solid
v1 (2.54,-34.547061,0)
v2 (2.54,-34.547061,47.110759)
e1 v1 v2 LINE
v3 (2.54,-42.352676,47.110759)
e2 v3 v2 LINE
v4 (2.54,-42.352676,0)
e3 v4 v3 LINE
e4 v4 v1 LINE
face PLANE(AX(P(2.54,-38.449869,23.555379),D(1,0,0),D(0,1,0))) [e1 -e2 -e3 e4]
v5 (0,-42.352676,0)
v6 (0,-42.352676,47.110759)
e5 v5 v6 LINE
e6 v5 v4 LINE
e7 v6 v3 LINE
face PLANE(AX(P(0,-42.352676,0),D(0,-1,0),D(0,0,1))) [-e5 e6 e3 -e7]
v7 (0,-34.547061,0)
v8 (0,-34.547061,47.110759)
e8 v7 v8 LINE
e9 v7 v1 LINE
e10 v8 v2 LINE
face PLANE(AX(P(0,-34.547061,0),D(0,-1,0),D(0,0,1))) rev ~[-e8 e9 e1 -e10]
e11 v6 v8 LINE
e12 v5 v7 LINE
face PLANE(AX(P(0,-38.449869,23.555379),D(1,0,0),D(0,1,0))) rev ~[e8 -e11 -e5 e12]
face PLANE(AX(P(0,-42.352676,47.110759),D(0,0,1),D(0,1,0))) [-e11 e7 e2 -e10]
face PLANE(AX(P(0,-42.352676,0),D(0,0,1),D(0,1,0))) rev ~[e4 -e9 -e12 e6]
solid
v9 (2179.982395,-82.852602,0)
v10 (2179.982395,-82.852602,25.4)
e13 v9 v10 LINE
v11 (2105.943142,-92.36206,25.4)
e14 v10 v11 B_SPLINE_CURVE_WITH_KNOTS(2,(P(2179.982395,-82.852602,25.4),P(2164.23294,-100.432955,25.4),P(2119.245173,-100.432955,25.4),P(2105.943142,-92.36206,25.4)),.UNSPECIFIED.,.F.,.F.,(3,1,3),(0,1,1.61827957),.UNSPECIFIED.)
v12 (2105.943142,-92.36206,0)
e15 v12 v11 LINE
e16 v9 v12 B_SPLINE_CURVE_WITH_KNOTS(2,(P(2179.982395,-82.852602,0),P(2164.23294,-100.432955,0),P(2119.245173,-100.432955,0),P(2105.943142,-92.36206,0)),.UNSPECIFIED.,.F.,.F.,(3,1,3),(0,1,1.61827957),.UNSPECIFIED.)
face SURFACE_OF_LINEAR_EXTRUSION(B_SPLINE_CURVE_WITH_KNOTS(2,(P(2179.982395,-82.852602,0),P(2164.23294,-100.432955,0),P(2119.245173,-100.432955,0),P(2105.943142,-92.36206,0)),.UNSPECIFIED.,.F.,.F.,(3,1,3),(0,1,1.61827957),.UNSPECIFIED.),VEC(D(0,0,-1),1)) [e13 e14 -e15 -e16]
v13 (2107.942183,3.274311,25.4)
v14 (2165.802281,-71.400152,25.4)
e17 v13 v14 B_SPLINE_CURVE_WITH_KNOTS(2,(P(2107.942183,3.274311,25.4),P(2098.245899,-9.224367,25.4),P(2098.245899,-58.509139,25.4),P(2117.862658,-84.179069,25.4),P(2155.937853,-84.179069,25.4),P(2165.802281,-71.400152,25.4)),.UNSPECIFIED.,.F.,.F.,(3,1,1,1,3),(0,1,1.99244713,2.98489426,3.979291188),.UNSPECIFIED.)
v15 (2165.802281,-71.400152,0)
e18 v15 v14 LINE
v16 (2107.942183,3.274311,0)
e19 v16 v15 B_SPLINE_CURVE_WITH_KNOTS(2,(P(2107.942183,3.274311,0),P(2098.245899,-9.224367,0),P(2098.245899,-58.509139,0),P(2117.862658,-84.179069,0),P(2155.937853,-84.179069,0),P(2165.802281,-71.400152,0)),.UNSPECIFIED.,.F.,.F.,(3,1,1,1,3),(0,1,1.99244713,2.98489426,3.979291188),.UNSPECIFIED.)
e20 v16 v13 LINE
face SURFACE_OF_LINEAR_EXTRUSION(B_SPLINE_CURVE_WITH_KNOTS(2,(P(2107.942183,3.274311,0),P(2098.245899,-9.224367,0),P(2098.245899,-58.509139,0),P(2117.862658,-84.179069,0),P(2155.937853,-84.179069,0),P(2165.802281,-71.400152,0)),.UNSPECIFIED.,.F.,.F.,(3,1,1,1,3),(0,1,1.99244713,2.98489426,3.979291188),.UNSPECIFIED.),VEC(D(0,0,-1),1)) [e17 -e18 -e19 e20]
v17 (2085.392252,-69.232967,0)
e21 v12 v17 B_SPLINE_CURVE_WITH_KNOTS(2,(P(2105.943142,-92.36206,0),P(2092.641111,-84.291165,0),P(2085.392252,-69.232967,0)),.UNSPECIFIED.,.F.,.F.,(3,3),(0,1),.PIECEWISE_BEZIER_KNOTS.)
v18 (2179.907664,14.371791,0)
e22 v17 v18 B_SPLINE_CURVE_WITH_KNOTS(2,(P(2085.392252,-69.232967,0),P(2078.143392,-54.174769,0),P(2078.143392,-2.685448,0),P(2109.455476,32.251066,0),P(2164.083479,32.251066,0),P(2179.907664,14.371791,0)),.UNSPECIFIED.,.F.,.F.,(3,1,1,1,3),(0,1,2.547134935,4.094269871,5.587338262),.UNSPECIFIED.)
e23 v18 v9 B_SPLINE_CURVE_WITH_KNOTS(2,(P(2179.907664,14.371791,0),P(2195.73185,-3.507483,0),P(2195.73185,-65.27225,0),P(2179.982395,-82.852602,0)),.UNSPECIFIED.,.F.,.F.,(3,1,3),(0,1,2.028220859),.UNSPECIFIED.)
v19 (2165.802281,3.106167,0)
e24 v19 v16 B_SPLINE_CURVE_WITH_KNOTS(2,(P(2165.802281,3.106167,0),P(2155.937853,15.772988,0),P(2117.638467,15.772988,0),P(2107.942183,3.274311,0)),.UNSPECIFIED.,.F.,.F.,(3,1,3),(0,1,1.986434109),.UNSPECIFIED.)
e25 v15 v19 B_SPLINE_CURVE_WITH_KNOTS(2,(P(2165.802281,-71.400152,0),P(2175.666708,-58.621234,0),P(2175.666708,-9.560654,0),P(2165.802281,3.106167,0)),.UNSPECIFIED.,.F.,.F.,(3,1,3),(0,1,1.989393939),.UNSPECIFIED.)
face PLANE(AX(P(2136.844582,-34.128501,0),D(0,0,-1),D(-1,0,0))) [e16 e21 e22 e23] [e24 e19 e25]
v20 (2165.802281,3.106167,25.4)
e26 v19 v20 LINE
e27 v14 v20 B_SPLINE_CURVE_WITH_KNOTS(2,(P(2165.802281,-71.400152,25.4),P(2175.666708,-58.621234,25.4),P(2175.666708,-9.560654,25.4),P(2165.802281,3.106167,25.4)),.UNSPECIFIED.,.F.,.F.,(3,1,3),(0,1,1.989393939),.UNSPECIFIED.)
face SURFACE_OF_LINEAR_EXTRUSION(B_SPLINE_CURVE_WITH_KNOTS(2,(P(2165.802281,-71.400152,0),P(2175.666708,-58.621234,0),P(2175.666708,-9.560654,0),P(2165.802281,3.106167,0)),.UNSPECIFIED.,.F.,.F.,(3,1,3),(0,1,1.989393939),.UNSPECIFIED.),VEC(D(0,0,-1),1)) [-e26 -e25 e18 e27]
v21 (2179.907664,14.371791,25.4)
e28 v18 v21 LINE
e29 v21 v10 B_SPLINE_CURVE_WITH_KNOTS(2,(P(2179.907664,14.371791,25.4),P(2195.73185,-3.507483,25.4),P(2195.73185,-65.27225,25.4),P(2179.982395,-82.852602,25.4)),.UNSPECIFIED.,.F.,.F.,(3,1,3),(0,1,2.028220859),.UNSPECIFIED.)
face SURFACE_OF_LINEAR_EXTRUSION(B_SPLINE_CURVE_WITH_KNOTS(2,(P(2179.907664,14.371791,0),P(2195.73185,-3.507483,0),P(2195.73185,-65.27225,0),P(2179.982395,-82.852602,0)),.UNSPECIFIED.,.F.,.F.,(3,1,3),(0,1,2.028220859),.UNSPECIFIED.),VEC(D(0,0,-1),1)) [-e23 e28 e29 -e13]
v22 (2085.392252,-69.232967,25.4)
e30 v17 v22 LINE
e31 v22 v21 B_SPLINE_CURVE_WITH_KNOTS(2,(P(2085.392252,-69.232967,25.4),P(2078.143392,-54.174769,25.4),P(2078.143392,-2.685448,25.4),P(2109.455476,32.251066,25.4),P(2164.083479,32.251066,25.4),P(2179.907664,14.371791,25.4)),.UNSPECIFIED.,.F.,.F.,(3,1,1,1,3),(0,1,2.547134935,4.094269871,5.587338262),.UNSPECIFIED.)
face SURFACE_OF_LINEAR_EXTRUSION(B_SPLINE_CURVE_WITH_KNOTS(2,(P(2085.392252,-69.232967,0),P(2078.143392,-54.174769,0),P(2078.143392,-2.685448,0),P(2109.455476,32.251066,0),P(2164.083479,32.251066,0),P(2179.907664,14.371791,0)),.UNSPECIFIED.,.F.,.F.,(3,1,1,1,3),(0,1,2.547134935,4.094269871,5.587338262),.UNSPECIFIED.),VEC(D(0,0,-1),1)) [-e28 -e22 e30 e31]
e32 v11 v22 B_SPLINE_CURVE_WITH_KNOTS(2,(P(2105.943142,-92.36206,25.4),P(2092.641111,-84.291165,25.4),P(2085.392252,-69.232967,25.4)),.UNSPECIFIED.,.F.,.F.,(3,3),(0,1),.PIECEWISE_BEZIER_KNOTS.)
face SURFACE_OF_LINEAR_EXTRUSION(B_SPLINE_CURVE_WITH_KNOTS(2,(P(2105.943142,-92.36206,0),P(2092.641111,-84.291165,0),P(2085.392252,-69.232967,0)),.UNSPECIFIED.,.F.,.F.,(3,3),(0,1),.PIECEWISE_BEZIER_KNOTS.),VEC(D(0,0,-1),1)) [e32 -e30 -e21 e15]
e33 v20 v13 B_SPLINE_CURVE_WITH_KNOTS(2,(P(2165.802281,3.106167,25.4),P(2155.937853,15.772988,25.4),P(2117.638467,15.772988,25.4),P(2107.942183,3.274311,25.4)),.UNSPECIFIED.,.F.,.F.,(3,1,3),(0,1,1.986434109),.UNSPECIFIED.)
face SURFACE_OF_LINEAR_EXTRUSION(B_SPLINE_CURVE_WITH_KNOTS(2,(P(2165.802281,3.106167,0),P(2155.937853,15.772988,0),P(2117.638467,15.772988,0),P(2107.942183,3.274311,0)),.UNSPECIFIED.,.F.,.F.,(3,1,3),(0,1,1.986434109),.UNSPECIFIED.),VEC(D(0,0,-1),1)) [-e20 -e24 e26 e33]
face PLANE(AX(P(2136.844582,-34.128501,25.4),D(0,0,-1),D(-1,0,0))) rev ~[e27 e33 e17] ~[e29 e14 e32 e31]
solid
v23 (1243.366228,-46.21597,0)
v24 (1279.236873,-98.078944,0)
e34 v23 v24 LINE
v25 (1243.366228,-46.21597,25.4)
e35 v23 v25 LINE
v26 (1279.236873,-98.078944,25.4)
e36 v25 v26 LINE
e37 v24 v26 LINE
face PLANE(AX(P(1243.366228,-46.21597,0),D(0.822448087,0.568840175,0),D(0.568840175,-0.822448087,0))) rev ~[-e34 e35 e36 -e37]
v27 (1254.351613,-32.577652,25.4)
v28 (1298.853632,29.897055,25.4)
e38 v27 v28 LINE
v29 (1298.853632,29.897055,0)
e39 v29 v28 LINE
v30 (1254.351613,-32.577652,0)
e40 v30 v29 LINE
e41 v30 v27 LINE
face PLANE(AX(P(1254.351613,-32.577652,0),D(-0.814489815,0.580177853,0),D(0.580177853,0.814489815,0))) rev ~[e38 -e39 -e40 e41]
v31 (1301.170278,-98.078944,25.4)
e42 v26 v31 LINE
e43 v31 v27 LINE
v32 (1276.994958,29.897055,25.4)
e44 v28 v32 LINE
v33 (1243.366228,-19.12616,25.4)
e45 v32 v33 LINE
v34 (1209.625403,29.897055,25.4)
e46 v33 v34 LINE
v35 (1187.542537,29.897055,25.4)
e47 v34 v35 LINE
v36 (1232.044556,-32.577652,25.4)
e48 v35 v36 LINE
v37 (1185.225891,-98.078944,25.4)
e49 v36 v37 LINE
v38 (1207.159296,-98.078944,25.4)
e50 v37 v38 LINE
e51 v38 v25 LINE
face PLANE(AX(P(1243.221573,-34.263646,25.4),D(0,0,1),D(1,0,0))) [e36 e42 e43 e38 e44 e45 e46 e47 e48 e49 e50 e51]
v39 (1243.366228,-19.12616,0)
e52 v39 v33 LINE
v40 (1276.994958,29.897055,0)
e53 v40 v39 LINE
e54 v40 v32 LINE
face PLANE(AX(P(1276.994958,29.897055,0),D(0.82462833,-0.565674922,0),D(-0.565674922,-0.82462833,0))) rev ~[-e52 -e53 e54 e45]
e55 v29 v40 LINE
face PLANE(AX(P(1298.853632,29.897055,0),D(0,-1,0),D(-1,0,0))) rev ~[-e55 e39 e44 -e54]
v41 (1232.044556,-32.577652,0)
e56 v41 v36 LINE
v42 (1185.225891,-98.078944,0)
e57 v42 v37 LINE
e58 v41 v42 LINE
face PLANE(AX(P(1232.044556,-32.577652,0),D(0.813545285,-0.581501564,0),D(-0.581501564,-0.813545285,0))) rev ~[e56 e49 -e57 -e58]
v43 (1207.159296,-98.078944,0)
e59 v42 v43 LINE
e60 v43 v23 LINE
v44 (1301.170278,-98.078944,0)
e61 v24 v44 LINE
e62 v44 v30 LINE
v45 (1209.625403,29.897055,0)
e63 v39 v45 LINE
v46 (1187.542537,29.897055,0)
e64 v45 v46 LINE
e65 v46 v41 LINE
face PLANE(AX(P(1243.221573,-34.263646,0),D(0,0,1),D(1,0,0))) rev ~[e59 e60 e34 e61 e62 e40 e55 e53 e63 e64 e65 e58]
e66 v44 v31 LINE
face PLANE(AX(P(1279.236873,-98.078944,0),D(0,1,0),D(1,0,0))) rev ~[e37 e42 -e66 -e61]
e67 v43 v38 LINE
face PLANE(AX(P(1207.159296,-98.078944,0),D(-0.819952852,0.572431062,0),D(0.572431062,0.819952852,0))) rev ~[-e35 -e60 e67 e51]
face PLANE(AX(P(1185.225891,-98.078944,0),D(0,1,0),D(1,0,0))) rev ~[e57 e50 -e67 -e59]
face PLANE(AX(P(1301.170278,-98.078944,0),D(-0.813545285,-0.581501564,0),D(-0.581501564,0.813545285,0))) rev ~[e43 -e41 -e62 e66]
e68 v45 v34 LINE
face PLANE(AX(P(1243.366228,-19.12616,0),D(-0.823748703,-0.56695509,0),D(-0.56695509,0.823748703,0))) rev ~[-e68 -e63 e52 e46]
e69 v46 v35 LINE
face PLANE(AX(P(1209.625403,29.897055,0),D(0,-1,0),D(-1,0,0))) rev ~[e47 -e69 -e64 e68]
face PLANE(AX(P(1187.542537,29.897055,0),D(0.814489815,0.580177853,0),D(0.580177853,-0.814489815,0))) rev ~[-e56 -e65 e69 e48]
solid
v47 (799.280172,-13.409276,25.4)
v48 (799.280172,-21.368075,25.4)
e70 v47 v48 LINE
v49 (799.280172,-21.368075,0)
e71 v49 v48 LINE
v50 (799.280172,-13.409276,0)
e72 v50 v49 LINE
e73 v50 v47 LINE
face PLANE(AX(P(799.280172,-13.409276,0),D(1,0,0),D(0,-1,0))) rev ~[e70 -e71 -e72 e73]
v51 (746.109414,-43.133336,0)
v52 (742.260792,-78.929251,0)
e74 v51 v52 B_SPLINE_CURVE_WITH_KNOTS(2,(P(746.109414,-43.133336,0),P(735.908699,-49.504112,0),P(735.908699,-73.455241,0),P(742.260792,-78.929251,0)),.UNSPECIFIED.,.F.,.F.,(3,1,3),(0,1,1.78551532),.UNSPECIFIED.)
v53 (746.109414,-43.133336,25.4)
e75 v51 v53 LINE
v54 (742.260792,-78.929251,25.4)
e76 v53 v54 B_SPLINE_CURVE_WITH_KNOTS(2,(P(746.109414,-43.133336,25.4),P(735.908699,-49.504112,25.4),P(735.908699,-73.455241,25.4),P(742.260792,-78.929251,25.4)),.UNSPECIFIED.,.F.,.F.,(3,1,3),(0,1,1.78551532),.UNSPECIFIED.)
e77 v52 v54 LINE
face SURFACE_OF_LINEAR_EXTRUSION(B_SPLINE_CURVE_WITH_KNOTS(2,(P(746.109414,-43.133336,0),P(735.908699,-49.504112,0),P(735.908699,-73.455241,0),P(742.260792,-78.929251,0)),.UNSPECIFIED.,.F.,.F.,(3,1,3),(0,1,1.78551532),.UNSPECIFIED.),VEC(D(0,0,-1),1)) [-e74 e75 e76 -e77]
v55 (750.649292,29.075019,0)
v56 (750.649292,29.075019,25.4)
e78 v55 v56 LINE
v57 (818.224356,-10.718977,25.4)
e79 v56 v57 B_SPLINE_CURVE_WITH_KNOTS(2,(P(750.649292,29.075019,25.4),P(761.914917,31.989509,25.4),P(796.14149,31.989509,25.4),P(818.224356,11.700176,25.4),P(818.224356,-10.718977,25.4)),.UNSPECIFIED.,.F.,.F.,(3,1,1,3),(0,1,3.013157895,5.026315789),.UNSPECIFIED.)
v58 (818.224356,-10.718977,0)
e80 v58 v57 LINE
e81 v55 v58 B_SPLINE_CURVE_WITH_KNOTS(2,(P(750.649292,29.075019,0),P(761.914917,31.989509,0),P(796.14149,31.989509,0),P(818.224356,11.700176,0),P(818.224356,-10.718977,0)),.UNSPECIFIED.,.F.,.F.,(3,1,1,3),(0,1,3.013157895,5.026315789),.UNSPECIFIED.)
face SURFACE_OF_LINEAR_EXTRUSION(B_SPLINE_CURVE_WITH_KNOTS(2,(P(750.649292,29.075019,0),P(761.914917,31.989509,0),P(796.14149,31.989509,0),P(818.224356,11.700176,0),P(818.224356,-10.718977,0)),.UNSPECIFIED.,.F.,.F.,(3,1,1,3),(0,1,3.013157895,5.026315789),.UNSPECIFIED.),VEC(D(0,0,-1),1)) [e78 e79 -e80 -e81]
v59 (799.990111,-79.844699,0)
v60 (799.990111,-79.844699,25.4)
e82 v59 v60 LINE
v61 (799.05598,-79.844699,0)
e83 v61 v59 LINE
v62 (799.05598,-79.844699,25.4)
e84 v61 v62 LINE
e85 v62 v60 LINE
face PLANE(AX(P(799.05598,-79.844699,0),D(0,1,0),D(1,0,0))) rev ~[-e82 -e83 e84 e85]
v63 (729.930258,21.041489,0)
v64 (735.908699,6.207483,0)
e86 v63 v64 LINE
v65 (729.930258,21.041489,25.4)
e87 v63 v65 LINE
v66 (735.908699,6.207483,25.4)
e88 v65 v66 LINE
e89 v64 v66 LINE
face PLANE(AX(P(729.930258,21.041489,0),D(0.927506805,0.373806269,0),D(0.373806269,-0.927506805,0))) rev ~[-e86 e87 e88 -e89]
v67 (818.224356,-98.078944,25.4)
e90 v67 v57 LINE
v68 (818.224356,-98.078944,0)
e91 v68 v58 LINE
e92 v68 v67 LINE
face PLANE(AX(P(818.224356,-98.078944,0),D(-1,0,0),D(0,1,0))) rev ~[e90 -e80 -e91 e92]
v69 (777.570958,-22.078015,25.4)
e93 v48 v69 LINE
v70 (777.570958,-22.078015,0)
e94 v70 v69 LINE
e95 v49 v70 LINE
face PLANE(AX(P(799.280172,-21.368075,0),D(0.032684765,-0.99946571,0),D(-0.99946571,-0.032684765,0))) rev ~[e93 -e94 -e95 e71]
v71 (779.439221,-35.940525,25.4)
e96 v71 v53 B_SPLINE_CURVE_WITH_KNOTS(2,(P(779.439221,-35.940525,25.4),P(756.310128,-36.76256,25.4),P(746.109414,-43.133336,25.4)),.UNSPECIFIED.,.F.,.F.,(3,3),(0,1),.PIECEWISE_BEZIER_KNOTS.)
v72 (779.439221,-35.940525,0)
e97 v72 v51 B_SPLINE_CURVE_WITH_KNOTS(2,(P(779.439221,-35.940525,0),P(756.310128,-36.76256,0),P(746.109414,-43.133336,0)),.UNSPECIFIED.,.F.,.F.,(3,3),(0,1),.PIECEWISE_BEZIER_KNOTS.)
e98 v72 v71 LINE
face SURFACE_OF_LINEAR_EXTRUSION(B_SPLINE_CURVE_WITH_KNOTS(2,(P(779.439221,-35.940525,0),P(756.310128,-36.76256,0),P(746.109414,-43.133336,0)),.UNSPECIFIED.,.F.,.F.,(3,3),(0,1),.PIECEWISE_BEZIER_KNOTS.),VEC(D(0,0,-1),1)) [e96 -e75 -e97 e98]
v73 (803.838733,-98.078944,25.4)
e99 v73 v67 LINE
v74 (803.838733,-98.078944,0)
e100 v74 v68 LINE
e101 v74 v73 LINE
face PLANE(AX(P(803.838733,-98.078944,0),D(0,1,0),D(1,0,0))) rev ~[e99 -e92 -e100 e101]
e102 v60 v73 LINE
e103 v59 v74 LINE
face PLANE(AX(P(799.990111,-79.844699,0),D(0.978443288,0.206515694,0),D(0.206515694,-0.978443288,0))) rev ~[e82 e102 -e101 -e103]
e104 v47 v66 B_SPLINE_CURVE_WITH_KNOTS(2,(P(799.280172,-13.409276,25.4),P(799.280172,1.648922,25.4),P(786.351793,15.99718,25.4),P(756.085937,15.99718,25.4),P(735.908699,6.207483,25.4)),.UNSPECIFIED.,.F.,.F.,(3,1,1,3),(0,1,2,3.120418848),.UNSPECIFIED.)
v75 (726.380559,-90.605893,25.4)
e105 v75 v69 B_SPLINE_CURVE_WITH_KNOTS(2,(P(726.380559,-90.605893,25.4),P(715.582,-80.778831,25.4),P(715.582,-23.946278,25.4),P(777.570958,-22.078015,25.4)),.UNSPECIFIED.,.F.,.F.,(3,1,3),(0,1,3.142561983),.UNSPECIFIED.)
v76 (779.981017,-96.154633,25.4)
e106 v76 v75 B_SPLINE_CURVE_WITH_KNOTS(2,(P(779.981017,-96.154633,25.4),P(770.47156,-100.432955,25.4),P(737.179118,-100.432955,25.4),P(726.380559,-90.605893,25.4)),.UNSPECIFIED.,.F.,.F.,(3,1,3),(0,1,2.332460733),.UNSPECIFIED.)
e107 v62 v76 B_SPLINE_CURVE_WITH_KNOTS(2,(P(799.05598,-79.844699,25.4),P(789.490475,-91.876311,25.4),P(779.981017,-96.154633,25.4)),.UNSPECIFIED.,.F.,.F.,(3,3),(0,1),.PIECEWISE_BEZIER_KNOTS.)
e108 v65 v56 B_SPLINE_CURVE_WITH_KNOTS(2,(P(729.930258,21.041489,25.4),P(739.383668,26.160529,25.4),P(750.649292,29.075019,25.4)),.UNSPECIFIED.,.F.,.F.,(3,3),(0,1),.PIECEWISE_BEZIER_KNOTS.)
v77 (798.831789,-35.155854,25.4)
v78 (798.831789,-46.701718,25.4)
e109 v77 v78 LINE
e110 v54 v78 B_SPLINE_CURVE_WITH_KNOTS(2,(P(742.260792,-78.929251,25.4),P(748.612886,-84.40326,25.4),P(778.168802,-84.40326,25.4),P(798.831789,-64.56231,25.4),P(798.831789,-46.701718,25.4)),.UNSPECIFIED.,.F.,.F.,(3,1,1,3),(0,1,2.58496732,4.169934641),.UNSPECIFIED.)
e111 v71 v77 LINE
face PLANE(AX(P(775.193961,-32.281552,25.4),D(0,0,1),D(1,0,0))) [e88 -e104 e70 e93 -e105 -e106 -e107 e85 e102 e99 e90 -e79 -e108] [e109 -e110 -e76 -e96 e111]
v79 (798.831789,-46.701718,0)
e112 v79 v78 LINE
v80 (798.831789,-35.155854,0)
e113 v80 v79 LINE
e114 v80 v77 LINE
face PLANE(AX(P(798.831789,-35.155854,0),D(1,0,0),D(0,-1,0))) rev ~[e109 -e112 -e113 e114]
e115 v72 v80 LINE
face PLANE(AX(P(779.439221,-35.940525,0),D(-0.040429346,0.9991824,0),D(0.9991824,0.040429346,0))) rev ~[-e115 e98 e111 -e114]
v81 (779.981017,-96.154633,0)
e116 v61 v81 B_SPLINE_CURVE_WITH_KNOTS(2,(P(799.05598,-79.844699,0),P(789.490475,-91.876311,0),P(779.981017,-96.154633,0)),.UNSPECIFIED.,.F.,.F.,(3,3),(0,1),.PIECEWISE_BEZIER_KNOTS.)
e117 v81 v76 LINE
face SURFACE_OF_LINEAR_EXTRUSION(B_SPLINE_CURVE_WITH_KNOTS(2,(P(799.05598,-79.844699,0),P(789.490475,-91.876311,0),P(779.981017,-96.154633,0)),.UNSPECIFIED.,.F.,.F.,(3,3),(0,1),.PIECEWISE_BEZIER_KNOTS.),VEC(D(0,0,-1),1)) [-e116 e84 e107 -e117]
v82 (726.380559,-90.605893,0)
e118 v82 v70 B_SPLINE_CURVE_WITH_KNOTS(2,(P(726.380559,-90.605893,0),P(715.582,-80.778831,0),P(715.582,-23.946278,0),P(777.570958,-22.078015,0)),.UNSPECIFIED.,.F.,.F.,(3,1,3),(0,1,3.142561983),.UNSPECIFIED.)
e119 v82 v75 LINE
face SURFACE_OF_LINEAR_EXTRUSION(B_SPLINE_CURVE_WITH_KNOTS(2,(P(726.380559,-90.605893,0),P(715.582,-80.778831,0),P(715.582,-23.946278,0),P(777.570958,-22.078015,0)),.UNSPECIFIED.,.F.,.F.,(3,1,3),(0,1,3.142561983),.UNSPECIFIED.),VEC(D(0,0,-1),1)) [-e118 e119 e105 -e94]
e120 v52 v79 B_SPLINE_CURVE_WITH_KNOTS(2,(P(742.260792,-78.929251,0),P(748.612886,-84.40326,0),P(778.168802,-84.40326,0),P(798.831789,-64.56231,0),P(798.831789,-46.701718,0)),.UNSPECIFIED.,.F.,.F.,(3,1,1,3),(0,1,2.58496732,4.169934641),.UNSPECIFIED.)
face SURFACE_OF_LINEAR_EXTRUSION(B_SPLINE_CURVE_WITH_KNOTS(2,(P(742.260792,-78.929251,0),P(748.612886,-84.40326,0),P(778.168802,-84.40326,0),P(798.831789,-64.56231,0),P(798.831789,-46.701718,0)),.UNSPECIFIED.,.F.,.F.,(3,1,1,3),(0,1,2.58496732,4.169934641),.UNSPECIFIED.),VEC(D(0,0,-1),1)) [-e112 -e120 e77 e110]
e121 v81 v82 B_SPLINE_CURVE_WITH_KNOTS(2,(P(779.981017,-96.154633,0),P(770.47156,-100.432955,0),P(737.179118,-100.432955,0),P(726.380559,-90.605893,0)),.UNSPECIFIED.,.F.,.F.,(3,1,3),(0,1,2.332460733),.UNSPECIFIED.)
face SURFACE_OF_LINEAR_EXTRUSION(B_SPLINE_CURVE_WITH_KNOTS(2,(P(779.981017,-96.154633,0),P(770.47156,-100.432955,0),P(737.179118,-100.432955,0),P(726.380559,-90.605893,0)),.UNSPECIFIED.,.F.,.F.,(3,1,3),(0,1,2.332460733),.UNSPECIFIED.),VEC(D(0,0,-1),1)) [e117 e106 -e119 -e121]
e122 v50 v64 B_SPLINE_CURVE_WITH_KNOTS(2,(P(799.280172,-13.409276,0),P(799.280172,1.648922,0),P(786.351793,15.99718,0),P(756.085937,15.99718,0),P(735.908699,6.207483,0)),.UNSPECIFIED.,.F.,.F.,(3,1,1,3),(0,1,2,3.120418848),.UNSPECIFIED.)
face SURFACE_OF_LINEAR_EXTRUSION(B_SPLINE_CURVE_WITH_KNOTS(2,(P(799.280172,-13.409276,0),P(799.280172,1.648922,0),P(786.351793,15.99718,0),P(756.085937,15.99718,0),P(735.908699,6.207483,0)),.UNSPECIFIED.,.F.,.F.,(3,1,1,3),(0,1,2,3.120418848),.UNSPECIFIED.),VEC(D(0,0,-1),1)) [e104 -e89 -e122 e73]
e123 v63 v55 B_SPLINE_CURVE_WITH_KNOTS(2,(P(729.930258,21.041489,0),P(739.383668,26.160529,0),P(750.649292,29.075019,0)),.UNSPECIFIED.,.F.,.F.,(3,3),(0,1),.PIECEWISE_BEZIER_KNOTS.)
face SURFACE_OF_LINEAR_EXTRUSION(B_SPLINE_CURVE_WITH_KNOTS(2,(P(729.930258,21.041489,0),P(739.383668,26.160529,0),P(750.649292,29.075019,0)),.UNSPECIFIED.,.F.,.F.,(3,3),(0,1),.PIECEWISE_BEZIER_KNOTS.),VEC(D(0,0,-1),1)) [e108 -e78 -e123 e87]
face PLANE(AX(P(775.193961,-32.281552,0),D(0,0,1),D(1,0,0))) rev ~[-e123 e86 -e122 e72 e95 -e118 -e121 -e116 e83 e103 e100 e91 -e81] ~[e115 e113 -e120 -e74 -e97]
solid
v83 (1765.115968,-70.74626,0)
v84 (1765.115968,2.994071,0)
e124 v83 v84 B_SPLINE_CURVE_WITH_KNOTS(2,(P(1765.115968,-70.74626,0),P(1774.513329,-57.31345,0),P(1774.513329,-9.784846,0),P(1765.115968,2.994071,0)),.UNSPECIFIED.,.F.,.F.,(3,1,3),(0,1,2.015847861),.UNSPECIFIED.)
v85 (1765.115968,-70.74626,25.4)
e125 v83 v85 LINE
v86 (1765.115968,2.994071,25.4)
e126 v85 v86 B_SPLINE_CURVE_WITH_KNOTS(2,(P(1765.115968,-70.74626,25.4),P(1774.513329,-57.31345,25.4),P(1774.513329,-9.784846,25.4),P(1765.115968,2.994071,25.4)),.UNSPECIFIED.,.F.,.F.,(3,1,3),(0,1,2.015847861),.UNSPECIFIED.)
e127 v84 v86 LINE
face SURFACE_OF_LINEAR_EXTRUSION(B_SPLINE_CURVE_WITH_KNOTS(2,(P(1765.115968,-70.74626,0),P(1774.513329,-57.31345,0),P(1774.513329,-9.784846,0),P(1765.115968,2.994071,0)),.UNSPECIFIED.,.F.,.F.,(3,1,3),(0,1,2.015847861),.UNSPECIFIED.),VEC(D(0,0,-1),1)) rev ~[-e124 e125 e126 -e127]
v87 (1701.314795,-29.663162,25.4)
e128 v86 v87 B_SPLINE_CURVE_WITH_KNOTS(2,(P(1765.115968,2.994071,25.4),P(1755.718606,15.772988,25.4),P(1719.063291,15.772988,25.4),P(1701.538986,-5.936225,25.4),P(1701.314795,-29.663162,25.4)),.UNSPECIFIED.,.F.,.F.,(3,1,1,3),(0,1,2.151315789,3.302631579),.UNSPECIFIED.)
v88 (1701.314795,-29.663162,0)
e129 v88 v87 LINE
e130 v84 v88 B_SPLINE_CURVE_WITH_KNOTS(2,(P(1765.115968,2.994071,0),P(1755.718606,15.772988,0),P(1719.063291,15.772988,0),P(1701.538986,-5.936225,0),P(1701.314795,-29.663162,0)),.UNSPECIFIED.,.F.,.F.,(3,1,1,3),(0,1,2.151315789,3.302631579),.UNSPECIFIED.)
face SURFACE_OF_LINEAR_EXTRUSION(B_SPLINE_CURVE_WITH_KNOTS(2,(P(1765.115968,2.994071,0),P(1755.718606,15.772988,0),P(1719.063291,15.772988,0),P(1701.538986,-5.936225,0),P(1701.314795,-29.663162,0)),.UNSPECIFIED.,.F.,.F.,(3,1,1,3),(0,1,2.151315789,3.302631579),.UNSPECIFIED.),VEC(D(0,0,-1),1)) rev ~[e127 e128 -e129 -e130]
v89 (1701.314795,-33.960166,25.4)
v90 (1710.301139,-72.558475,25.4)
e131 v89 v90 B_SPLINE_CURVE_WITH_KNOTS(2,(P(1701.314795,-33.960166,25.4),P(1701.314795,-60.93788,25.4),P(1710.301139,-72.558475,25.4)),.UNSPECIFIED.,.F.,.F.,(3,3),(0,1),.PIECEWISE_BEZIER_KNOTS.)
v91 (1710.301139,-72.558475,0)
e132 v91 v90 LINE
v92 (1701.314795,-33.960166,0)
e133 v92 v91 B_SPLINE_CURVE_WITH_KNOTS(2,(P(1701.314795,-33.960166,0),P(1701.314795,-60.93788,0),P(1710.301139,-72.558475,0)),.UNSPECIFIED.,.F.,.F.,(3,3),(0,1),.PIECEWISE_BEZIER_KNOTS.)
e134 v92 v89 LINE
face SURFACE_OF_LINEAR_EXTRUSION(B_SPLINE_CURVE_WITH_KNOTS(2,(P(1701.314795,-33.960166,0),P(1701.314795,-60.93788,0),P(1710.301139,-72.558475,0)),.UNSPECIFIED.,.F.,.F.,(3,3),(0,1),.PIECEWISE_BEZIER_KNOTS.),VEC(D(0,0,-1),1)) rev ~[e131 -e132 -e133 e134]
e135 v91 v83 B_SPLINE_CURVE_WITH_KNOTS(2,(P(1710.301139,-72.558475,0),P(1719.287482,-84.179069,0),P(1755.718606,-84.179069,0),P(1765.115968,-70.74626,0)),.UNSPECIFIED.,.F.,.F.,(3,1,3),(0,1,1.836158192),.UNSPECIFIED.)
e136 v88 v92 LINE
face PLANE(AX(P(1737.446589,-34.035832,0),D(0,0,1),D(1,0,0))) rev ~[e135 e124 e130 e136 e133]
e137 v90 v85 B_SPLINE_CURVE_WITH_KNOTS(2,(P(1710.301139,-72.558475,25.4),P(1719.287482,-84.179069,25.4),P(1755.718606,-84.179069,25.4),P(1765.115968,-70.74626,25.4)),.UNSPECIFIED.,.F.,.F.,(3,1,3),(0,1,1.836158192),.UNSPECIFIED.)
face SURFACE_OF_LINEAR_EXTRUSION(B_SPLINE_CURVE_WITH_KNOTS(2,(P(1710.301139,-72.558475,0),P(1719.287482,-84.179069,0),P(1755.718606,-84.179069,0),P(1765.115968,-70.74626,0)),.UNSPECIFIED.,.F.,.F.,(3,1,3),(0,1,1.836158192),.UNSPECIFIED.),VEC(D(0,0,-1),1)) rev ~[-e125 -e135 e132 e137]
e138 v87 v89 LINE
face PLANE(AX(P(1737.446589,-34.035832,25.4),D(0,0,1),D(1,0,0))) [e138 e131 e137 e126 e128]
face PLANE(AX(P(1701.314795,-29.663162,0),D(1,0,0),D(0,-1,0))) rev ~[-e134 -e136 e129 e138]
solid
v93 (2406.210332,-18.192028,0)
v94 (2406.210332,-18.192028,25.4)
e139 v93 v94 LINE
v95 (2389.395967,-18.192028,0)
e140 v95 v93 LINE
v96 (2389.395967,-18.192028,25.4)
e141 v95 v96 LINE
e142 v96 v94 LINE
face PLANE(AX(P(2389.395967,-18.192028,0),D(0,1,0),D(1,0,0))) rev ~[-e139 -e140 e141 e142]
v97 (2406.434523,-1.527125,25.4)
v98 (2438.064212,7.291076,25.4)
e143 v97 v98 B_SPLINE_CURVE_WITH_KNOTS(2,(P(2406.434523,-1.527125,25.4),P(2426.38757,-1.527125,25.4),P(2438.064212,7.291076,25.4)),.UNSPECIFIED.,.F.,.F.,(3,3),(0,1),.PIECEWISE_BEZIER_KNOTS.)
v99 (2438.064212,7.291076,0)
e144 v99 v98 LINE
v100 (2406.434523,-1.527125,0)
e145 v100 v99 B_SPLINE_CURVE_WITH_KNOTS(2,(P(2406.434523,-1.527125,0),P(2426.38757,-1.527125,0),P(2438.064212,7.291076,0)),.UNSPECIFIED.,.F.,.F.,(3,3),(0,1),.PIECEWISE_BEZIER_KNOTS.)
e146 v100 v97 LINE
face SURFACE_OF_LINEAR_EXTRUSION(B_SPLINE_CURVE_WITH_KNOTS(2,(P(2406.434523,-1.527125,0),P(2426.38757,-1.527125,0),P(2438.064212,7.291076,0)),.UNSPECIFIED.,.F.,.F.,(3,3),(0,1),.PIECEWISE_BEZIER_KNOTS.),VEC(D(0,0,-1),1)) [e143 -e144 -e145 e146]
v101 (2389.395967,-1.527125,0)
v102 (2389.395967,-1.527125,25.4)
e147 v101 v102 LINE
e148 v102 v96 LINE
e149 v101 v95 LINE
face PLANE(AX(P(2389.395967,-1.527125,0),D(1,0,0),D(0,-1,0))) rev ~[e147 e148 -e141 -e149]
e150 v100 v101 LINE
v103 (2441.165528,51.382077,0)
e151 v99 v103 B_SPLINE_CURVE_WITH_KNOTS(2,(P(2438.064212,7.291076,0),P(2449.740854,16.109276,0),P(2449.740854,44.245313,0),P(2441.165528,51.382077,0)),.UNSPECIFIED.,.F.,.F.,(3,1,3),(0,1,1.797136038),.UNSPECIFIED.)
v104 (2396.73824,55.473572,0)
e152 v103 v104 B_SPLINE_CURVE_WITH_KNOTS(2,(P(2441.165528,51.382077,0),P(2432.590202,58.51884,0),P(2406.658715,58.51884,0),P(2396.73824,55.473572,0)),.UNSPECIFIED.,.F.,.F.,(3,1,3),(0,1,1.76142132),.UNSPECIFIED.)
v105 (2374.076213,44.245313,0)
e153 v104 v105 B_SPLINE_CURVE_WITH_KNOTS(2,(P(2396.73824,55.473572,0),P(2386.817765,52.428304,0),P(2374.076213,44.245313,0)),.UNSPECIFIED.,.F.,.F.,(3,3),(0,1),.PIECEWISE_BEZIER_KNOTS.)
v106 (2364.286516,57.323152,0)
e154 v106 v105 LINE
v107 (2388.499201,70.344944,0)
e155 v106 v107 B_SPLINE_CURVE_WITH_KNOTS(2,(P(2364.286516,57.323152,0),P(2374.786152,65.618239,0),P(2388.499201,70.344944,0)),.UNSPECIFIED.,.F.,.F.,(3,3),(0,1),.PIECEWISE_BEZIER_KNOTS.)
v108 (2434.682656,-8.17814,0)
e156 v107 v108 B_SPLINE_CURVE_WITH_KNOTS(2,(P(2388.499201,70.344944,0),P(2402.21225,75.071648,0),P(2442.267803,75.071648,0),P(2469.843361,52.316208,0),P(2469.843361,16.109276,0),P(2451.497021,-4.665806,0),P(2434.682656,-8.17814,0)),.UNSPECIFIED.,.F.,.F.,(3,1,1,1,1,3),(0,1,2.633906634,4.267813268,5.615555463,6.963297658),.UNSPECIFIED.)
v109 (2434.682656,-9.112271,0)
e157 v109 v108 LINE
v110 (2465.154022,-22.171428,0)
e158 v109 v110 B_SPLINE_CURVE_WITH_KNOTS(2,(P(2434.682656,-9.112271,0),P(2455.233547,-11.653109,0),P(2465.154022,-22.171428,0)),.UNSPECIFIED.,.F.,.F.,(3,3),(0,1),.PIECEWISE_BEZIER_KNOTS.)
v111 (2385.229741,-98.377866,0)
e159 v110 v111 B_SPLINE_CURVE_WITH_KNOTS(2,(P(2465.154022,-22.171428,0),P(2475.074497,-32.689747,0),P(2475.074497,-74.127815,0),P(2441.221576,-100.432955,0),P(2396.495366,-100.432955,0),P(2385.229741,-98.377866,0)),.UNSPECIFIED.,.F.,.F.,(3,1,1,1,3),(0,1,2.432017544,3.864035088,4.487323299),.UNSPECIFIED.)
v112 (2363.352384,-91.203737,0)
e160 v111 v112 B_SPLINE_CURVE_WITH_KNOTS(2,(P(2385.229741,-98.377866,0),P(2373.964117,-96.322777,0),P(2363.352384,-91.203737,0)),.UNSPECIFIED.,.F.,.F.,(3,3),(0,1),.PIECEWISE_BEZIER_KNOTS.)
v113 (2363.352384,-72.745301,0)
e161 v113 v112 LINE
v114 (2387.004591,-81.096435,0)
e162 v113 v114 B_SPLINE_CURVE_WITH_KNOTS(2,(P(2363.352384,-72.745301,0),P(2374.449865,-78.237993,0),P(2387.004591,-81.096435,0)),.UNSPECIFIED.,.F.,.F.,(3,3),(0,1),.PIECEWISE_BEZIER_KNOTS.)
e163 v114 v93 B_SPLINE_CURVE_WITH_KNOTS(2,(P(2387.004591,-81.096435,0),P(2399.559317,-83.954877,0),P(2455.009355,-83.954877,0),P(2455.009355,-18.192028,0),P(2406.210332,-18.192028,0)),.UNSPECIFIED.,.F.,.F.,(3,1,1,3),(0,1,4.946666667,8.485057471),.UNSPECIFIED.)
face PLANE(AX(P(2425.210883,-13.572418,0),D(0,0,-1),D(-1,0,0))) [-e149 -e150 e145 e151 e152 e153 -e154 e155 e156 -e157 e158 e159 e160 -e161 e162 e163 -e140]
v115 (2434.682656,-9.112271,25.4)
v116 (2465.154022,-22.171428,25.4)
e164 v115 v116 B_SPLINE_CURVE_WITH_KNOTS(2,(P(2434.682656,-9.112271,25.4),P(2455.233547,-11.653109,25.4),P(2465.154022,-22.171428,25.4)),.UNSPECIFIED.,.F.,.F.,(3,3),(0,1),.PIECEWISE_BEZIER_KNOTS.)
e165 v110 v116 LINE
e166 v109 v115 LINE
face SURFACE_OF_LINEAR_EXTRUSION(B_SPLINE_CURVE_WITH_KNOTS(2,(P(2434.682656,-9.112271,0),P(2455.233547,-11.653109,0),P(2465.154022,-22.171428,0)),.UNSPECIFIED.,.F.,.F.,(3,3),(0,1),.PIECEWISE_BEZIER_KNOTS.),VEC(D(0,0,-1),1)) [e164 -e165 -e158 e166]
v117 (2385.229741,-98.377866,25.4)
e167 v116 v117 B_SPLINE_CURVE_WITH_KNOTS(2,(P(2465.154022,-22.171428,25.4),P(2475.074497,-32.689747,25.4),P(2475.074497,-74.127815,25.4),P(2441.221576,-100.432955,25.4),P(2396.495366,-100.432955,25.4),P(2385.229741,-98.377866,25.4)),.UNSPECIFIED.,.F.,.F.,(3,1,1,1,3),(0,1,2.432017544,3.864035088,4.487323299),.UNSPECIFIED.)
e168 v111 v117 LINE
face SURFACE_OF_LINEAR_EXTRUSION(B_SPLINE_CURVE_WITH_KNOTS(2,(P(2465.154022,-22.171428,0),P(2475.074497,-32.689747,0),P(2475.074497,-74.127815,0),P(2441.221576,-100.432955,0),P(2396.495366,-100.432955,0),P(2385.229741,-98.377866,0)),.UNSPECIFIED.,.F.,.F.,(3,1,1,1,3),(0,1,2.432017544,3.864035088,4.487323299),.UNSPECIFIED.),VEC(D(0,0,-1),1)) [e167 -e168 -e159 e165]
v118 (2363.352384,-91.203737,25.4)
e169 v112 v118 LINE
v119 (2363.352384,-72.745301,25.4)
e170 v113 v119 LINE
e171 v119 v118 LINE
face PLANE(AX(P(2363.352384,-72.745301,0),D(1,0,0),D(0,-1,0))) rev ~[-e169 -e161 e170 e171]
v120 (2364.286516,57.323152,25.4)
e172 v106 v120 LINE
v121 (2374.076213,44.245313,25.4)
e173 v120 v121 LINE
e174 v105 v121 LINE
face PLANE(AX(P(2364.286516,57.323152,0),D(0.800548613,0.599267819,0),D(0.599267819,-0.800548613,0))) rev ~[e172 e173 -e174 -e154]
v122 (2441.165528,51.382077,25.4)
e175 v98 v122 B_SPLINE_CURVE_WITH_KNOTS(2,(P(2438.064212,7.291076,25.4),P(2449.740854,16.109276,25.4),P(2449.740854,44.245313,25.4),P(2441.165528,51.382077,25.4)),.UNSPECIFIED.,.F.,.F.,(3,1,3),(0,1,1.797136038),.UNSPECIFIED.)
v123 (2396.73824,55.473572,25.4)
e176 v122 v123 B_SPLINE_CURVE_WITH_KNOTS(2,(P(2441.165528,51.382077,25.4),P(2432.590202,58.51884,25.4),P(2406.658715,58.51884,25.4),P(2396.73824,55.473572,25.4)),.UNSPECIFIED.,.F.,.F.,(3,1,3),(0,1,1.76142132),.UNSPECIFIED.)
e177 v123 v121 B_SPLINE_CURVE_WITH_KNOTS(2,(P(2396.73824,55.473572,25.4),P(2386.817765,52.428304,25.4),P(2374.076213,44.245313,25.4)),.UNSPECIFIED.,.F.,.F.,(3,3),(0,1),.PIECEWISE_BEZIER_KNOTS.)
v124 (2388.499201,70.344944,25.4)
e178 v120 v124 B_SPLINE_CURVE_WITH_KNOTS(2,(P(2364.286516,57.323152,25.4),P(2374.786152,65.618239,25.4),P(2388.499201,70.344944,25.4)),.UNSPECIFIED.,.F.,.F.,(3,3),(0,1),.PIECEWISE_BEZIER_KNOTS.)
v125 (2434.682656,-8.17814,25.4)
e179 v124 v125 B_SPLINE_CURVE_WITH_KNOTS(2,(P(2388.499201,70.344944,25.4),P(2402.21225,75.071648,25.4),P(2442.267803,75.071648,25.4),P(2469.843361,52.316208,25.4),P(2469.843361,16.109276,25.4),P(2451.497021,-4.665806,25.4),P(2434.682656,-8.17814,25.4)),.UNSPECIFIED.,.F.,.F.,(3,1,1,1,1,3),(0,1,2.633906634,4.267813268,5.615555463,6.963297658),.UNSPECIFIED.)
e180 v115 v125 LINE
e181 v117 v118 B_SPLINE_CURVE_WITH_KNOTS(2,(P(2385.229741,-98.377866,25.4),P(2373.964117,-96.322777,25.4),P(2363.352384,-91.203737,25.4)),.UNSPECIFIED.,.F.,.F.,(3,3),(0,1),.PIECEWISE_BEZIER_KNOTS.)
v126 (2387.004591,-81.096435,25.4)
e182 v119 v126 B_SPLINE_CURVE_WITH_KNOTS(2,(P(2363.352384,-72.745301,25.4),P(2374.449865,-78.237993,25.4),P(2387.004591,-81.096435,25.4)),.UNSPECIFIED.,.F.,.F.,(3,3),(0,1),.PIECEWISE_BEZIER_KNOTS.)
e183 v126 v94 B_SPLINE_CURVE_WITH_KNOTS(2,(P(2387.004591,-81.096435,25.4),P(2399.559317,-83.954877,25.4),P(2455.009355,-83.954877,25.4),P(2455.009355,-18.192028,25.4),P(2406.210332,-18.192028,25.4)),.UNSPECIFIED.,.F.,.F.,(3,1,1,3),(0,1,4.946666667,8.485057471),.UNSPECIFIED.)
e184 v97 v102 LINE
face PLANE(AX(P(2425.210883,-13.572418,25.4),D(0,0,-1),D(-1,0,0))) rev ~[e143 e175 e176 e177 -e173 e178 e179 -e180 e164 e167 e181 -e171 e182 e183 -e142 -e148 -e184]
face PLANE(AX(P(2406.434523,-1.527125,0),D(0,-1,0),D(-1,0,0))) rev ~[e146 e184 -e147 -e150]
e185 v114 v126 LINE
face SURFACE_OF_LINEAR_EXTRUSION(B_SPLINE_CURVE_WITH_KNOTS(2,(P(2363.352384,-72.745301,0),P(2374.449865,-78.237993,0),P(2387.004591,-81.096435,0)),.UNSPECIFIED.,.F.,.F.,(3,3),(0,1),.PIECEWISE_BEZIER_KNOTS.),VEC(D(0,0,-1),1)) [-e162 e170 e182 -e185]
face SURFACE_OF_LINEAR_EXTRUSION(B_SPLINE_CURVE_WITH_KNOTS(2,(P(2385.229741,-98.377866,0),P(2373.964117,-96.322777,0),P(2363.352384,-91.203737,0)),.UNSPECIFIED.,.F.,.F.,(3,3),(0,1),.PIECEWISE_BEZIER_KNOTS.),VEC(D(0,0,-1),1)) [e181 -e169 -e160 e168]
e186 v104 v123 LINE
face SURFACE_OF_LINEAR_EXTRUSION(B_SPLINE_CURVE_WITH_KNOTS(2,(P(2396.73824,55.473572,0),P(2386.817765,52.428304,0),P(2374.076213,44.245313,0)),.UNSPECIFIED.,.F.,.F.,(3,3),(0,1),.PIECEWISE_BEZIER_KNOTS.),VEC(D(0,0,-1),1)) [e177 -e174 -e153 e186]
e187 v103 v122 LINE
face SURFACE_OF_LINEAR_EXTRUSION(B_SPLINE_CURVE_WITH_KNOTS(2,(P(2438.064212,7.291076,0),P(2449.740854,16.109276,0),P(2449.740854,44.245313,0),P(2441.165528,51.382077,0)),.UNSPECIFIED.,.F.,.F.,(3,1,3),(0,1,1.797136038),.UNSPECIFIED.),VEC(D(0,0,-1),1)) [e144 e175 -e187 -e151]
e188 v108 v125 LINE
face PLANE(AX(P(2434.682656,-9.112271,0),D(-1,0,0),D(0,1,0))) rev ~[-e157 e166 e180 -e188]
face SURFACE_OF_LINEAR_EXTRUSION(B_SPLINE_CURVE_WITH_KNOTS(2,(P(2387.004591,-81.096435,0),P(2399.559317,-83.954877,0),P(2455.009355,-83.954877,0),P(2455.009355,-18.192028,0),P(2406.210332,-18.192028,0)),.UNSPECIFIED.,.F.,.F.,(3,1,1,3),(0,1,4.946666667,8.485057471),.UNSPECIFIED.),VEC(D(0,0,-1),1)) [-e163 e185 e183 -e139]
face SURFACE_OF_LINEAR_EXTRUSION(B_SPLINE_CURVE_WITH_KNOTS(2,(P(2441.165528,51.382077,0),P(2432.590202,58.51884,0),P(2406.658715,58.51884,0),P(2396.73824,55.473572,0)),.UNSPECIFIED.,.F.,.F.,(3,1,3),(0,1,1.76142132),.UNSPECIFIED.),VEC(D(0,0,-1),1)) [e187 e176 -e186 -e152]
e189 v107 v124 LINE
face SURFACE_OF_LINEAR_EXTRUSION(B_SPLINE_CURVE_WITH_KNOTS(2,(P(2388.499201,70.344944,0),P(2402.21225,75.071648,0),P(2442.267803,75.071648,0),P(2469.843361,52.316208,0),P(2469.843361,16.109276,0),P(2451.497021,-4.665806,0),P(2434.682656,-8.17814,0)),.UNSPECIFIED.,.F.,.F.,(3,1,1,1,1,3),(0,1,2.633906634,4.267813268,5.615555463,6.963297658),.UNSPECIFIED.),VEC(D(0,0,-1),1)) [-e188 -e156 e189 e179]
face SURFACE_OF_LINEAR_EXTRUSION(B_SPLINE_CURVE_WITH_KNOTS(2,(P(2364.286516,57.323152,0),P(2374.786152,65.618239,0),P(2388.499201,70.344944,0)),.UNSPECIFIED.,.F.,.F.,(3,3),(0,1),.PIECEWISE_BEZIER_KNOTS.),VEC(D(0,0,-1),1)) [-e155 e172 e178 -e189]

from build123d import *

# Parameters (mm, degrees)
F0_W     = 7.8056156635
F0_H     = 47.1107587218
F1_DEPTH = 2.54
F3_DEPTH = 25.4


with BuildPart() as f1:
    # F0 (on Right) → F1 (new body)
    with BuildSketch(Plane.YZ):
        with Locations((-38.4498685598, 23.5553793609)):
            Rectangle(F0_W, F0_H)
    extrude(amount=F1_DEPTH)


with BuildPart() as f3:
    # F2 (on Top) → F3 (new body)
    with BuildSketch(Plane.XY):
        with BuildLine():
            Line((799.9901114413, -79.8446993059), (803.8387327154, -98.078943789))
            Line((803.8387327154, -98.078943789), (818.2243559244, -98.078943789))
            Line((818.2243559244, -98.078943789), (818.2243559244, -10.7189773925))
            add(Edge.make_bspline(
                [(807.1829230458, 21.844842417), (818.2243559244, 11.7001756605), (818.2243559244, -10.7189773925)],
                knots=[0, 0, 0, 1, 1, 1], degree=2))
            add(Edge.make_bspline(
                [(773.2739540532, 31.9895091735), (796.1414901672, 31.9895091735), (807.1829230458, 21.844842417)],
                knots=[0, 0, 0, 1, 1, 1], degree=2))
            add(Edge.make_bspline(
                [(750.6492920972, 29.0750192766), (761.9149165063, 31.9895091735), (773.2739540532, 31.9895091735)],
                knots=[0, 0, 0, 1, 1, 1], degree=2))
            add(Edge.make_bspline(
                [(729.9302581507, 21.0414894326), (739.383667688, 26.1605293797), (750.6492920972, 29.0750192766)],
                knots=[0, 0, 0, 1, 1, 1], degree=2))
            Line((729.9302581507, 21.0414894326), (735.9086989648, 6.2074831625))
            add(Edge.make_bspline(
                [(772.0782658903, 15.9971799957), (756.0859367125, 15.9971799957), (735.9086989648, 6.2074831625)],
                knots=[0, 0, 0, 1, 1, 1], degree=2))
            add(Edge.make_bspline(
                [(792.8159824644, 8.8230510187), (786.3517933341, 15.9971799957), (772.0782658903, 15.9971799957)],
                knots=[0, 0, 0, 1, 1, 1], degree=2))
            add(Edge.make_bspline(
                [(799.2801715946, -13.4092757588), (799.2801715946, 1.6489220418), (792.8159824644, 8.8230510187)],
                knots=[0, 0, 0, 1, 1, 1], degree=2))
            Line((799.2801715946, -13.4092757588), (799.2801715946, -21.3680750926))
            Line((799.2801715946, -21.3680750926), (777.5709583883, -22.0780149393))
            add(Edge.make_bspline(
                [(715.5820001968, -62.6940472203), (715.5820001968, -23.9462776937), (777.5709583883, -22.0780149393)],
                knots=[0, 0, 0, 1, 1, 1], degree=2))
            add(Edge.make_bspline(
                [(726.3805589173, -90.6058927713), (715.5820001968, -80.7788306831), (715.5820001968, -62.6940472203)],
                knots=[0, 0, 0, 1, 1, 1], degree=2))
            add(Edge.make_bspline(
                [(756.1980324778, -100.4329548596), (737.1791176378, -100.4329548596), (726.3805589173, -90.6058927713)],
                knots=[0, 0, 0, 1, 1, 1], degree=2))
            add(Edge.make_bspline(
                [(779.9810173415, -96.154633152), (770.4715599215, -100.4329548596), (756.1980324778, -100.4329548596)],
                knots=[0, 0, 0, 1, 1, 1], degree=2))
            add(Edge.make_bspline(
                [(799.0559800641, -79.8446993059), (789.4904747615, -91.8763114443), (779.9810173415, -96.154633152)],
                knots=[0, 0, 0, 1, 1, 1], degree=2))
            Line((799.0559800641, -79.8446993059), (799.9901114413, -79.8446993059))
        make_face()
        with BuildLine():
            add(Edge.make_bspline(
                [(760.0466537519, -84.4032604267), (778.1688024697, -84.4032604267), (788.5002955017, -74.4827852007)],
                knots=[0, 0, 0, 1, 1, 1], degree=2))
            add(Edge.make_bspline(
                [(742.2607923298, -78.9292505562), (748.6128856949, -84.4032604267), (760.0466537519, -84.4032604267)],
                knots=[0, 0, 0, 1, 1, 1], degree=2))
            add(Edge.make_bspline(
                [(735.9086989648, -62.9182387509), (735.9086989648, -73.4552406858), (742.2607923298, -78.9292505562)],
                knots=[0, 0, 0, 1, 1, 1], degree=2))
            add(Edge.make_bspline(
                [(746.1094136039, -43.1333361816), (735.9086989648, -49.5041121742), (735.9086989648, -62.9182387509)],
                knots=[0, 0, 0, 1, 1, 1], degree=2))
            add(Edge.make_bspline(
                [(779.4392211427, -35.9405245771), (756.3101282431, -36.762560189), (746.1094136039, -43.1333361816)],
                knots=[0, 0, 0, 1, 1, 1], degree=2))
            Line((779.4392211427, -35.9405245771), (798.8317885336, -35.1558542202))
            Line((798.8317885336, -35.1558542202), (798.8317885336, -46.7017180425))
            add(Edge.make_bspline(
                [(788.5002955017, -74.4827852007), (798.8317885336, -64.5623099748), (798.8317885336, -46.7017180425)],
                knots=[0, 0, 0, 1, 1, 1], degree=2))
        make_face(mode=Mode.SUBTRACT)
        Polygon((1187.5425372176, 29.8970548886), (1232.0445560278, -32.5776516191), (1185.2258914021, -98.078943789), (1207.1592961389, -98.078943789), (1243.3662283195, -46.2159697264), (1279.2368732044, -98.078943789), (1301.1702779412, -98.078943789), (1254.3516133155, -32.5776516191), (1298.8536321257, 29.8970548886), (1276.9949578991, 29.8970548886), (1243.3662283195, -19.1261597873), (1209.6254029748, 29.8970548886), align=None)
        with BuildLine():
            add(Edge.make_bspline(
                [(1765.1159677456, 2.994071225), (1755.7186060908, 15.7729884652), (1738.6800497706, 15.7729884652)],
                knots=[0, 0, 0, 1, 1, 1], degree=2))
            add(Edge.make_bspline(
                [(1738.6800497706, 15.7729884652), (1719.0632908492, 15.7729884652), (1710.301138531, 4.918381862)],
                knots=[0, 0, 0, 1, 1, 1], degree=2))
            add(Edge.make_bspline(
                [(1710.301138531, 4.918381862), (1701.5389862128, -5.9362247412), (1701.3147946822, -29.6631617223)],
                knots=[0, 0, 0, 1, 1, 1], degree=2))
            Line((1701.3147946822, -29.6631617223), (1701.3147946822, -33.9601660574))
            add(Edge.make_bspline(
                [(1701.3147946822, -33.9601660574), (1701.3147946822, -60.9378802312), (1710.301138531, -72.5584745637)],
                knots=[0, 0, 0, 1, 1, 1], degree=2))
            add(Edge.make_bspline(
                [(1710.301138531, -72.5584745637), (1719.2874823797, -84.1790688961), (1739.1284328316, -84.1790688961)],
                knots=[0, 0, 0, 1, 1, 1], degree=2))
            add(Edge.make_bspline(
                [(1739.1284328316, -84.1790688961), (1755.7186060908, -84.1790688961), (1765.1159677456, -70.7462596919)],
                knots=[0, 0, 0, 1, 1, 1], degree=2))
            add(Edge.make_bspline(
                [(1765.1159677456, -70.7462596919), (1774.5133294003, -57.3134504876), (1774.5133294003, -33.7359745269)],
                knots=[0, 0, 0, 1, 1, 1], degree=2))
            add(Edge.make_bspline(
                [(1774.5133294003, -33.7359745269), (1774.5133294003, -9.7848460153), (1765.1159677456, 2.994071225)],
                knots=[0, 0, 0, 1, 1, 1], degree=2))
        make_face()
        with BuildLine():
            add(Edge.make_bspline(
                [(2195.7318500111, -33.9601660574), (2195.7318500111, -65.2722498214), (2179.9823949914, -82.8526023405)],
                knots=[0, 0, 0, 1, 1, 1], degree=2))
            add(Edge.make_bspline(
                [(2179.9076644812, 14.3717913993), (2195.7318500111, -3.5074831604), (2195.7318500111, -33.9601660574)],
                knots=[0, 0, 0, 1, 1, 1], degree=2))
            add(Edge.make_bspline(
                [(2137.2552257979, 32.2510659591), (2164.0834789513, 32.2510659591), (2179.9076644812, 14.3717913993)],
                knots=[0, 0, 0, 1, 1, 1], degree=2))
            add(Edge.make_bspline(
                [(2093.7994341301, 14.7828092053), (2109.4554760121, 32.2510659591), (2137.2552257979, 32.2510659591)],
                knots=[0, 0, 0, 1, 1, 1], degree=2))
            add(Edge.make_bspline(
                [(2078.1433922481, -33.9601660574), (2078.1433922481, -2.6854475485), (2093.7994341301, 14.7828092053)],
                knots=[0, 0, 0, 1, 1, 1], degree=2))
            add(Edge.make_bspline(
                [(2085.3922517353, -69.2329668608), (2078.1433922481, -54.1747690602), (2078.1433922481, -33.9601660574)],
                knots=[0, 0, 0, 1, 1, 1], degree=2))
            add(Edge.make_bspline(
                [(2105.9431420338, -92.3620597605), (2092.6411112224, -84.2911646614), (2085.3922517353, -69.2329668608)],
                knots=[0, 0, 0, 1, 1, 1], degree=2))
            add(Edge.make_bspline(
                [(2136.4331901859, -100.4329548596), (2119.2451728453, -100.4329548596), (2105.9431420338, -92.3620597605)],
                knots=[0, 0, 0, 1, 1, 1], degree=2))
            add(Edge.make_bspline(
                [(2179.9823949914, -82.8526023405), (2164.2329399716, -100.4329548596), (2136.4331901859, -100.4329548596)],
                knots=[0, 0, 0, 1, 1, 1], degree=2))
        make_face()
        with BuildLine():
            add(Edge.make_bspline(
                [(2098.2458994856, -33.9601660574), (2098.2458994856, -58.5091386505), (2108.0542789463, -71.3441037733)],
                knots=[0, 0, 0, 1, 1, 1], degree=2))
            add(Edge.make_bspline(
                [(2107.9421831811, 3.2743106381), (2098.2458994856, -9.2243671889), (2098.2458994856, -33.9601660574)],
                knots=[0, 0, 0, 1, 1, 1], degree=2))
            add(Edge.make_bspline(
                [(2136.6573817165, 15.7729884652), (2117.6384668765, 15.7729884652), (2107.9421831811, 3.2743106381)],
                knots=[0, 0, 0, 1, 1, 1], degree=2))
            add(Edge.make_bspline(
                [(2165.8022806854, 3.1061669902), (2155.937853342, 15.7729884652), (2136.6573817165, 15.7729884652)],
                knots=[0, 0, 0, 1, 1, 1], degree=2))
            add(Edge.make_bspline(
                [(2175.6667080287, -33.9601660574), (2175.6667080287, -9.5606544847), (2165.8022806854, 3.1061669902)],
                knots=[0, 0, 0, 1, 1, 1], degree=2))
            add(Edge.make_bspline(
                [(2165.8022806854, -71.4001516559), (2175.6667080287, -58.6212344157), (2175.6667080287, -33.9601660574)],
                knots=[0, 0, 0, 1, 1, 1], degree=2))
            add(Edge.make_bspline(
                [(2136.881573247, -84.1790688961), (2155.937853342, -84.1790688961), (2165.8022806854, -71.4001516559)],
                knots=[0, 0, 0, 1, 1, 1], degree=2))
            add(Edge.make_bspline(
                [(2108.0542789463, -71.3441037733), (2117.862658407, -84.1790688961), (2136.881573247, -84.1790688961)],
                knots=[0, 0, 0, 1, 1, 1], degree=2))
        make_face(mode=Mode.SUBTRACT)
        with BuildLine():
            add(Edge.make_bspline(
                [(2469.8433613392, 32.4752574896), (2469.8433613392, 16.109275761), (2460.670191215, 5.7217348464)],
                knots=[0, 0, 0, 1, 1, 1], degree=2))
            add(Edge.make_bspline(
                [(2456.0555822116, 63.693928116), (2469.8433613392, 52.3162079416), (2469.8433613392, 32.4752574896)],
                knots=[0, 0, 0, 1, 1, 1], degree=2))
            add(Edge.make_bspline(
                [(2417.4199084502, 75.0716482904), (2442.267803084, 75.0716482904), (2456.0555822116, 63.693928116)],
                knots=[0, 0, 0, 1, 1, 1], degree=2))
            add(Edge.make_bspline(
                [(2388.4992010119, 70.3449435217), (2402.2122496293, 75.0716482904), (2417.4199084502, 75.0716482904)],
                knots=[0, 0, 0, 1, 1, 1], degree=2))
            add(Edge.make_bspline(
                [(2364.2865157146, 57.3231521234), (2374.7861523944, 65.618238753), (2388.4992010119, 70.3449435217)],
                knots=[0, 0, 0, 1, 1, 1], degree=2))
            Line((2364.2865157146, 57.3231521234), (2374.0762125478, 44.2453128425))
            add(Edge.make_bspline(
                [(2396.7382397588, 55.4735719965), (2386.8177645329, 52.4283037068), (2374.0762125478, 44.2453128425)],
                knots=[0, 0, 0, 1, 1, 1], degree=2))
            add(Edge.make_bspline(
                [(2417.8682915113, 58.5188402862), (2406.6587149848, 58.5188402862), (2396.7382397588, 55.4735719965)],
                knots=[0, 0, 0, 1, 1, 1], degree=2))
            add(Edge.make_bspline(
                [(2441.1655280589, 51.3820765643), (2432.5902020161, 58.5188402862), (2417.8682915113, 58.5188402862)],
                knots=[0, 0, 0, 1, 1, 1], degree=2))
            add(Edge.make_bspline(
                [(2449.7408541016, 31.765317643), (2449.7408541016, 44.2453128425), (2441.1655280589, 51.3820765643)],
                knots=[0, 0, 0, 1, 1, 1], degree=2))
            add(Edge.make_bspline(
                [(2438.0642118865, 7.2910755601), (2449.7408541016, 16.109275761), (2449.7408541016, 31.765317643)],
                knots=[0, 0, 0, 1, 1, 1], degree=2))
            add(Edge.make_bspline(
                [(2406.4345234543, -1.5271246407), (2426.3875696714, -1.5271246407), (2438.0642118865, 7.2910755601)],
                knots=[0, 0, 0, 1, 1, 1], degree=2))
            Line((2406.4345234543, -1.5271246407), (2389.395967134, -1.5271246407))
            Line((2389.395967134, -1.5271246407), (2389.395967134, -18.1920284101))
            Line((2389.395967134, -18.1920284101), (2406.2103319237, -18.1920284101))
            add(Edge.make_bspline(
                [(2455.0093550691, -49.2799206436), (2455.0093550691, -18.1920284101), (2406.2103319237, -18.1920284101)],
                knots=[0, 0, 0, 1, 1, 1], degree=2))
            add(Edge.make_bspline(
                [(2410.7688930445, -83.9548773656), (2455.0093550691, -83.9548773656), (2455.0093550691, -49.2799206436)],
                knots=[0, 0, 0, 1, 1, 1], degree=2))
            add(Edge.make_bspline(
                [(2387.0045908083, -81.0964353514), (2399.559316518, -83.9548773656), (2410.7688930445, -83.9548773656)],
                knots=[0, 0, 0, 1, 1, 1], degree=2))
            add(Edge.make_bspline(
                [(2363.3523843374, -72.7453008391), (2374.4498650986, -78.2379933371), (2387.0045908083, -81.0964353514)],
                knots=[0, 0, 0, 1, 1, 1], degree=2))
            Line((2363.3523843374, -72.7453008391), (2363.3523843374, -91.2037368528))
            add(Edge.make_bspline(
                [(2385.2297411916, -98.3778658297), (2373.9641167825, -96.3227767999), (2363.3523843374, -91.2037368528)],
                knots=[0, 0, 0, 1, 1, 1], degree=2))
            add(Edge.make_bspline(
                [(2410.0589531978, -100.4329548596), (2396.4953656008, -100.4329548596), (2385.2297411916, -98.3778658297)],
                knots=[0, 0, 0, 1, 1, 1], degree=2))
            add(Edge.make_bspline(
                [(2458.1480364965, -87.2803850685), (2441.2215759415, -100.4329548596), (2410.0589531978, -100.4329548596)],
                knots=[0, 0, 0, 1, 1, 1], degree=2))
            add(Edge.make_bspline(
                [(2475.0744970515, -49.7283037047), (2475.0744970515, -74.1278152774), (2458.1480364965, -87.2803850685)],
                knots=[0, 0, 0, 1, 1, 1], degree=2))
            add(Edge.make_bspline(
                [(2465.1540218256, -22.171428077), (2475.0744970515, -32.6897473844), (2475.0744970515, -49.7283037047)],
                knots=[0, 0, 0, 1, 1, 1], degree=2))
            add(Edge.make_bspline(
                [(2434.682656301, -9.1122714237), (2455.2335465996, -11.6531087697), (2465.1540218256, -22.171428077)],
                knots=[0, 0, 0, 1, 1, 1], degree=2))
            Line((2434.682656301, -9.1122714237), (2434.682656301, -8.1781400465))
            add(Edge.make_bspline(
                [(2460.670191215, 5.7217348464), (2451.4970210908, -4.6658060682), (2434.682656301, -8.1781400465)],
                knots=[0, 0, 0, 1, 1, 1], degree=2))
        make_face()
    extrude(amount=F3_DEPTH)


solid = Compound([f1.part, f3.part])
